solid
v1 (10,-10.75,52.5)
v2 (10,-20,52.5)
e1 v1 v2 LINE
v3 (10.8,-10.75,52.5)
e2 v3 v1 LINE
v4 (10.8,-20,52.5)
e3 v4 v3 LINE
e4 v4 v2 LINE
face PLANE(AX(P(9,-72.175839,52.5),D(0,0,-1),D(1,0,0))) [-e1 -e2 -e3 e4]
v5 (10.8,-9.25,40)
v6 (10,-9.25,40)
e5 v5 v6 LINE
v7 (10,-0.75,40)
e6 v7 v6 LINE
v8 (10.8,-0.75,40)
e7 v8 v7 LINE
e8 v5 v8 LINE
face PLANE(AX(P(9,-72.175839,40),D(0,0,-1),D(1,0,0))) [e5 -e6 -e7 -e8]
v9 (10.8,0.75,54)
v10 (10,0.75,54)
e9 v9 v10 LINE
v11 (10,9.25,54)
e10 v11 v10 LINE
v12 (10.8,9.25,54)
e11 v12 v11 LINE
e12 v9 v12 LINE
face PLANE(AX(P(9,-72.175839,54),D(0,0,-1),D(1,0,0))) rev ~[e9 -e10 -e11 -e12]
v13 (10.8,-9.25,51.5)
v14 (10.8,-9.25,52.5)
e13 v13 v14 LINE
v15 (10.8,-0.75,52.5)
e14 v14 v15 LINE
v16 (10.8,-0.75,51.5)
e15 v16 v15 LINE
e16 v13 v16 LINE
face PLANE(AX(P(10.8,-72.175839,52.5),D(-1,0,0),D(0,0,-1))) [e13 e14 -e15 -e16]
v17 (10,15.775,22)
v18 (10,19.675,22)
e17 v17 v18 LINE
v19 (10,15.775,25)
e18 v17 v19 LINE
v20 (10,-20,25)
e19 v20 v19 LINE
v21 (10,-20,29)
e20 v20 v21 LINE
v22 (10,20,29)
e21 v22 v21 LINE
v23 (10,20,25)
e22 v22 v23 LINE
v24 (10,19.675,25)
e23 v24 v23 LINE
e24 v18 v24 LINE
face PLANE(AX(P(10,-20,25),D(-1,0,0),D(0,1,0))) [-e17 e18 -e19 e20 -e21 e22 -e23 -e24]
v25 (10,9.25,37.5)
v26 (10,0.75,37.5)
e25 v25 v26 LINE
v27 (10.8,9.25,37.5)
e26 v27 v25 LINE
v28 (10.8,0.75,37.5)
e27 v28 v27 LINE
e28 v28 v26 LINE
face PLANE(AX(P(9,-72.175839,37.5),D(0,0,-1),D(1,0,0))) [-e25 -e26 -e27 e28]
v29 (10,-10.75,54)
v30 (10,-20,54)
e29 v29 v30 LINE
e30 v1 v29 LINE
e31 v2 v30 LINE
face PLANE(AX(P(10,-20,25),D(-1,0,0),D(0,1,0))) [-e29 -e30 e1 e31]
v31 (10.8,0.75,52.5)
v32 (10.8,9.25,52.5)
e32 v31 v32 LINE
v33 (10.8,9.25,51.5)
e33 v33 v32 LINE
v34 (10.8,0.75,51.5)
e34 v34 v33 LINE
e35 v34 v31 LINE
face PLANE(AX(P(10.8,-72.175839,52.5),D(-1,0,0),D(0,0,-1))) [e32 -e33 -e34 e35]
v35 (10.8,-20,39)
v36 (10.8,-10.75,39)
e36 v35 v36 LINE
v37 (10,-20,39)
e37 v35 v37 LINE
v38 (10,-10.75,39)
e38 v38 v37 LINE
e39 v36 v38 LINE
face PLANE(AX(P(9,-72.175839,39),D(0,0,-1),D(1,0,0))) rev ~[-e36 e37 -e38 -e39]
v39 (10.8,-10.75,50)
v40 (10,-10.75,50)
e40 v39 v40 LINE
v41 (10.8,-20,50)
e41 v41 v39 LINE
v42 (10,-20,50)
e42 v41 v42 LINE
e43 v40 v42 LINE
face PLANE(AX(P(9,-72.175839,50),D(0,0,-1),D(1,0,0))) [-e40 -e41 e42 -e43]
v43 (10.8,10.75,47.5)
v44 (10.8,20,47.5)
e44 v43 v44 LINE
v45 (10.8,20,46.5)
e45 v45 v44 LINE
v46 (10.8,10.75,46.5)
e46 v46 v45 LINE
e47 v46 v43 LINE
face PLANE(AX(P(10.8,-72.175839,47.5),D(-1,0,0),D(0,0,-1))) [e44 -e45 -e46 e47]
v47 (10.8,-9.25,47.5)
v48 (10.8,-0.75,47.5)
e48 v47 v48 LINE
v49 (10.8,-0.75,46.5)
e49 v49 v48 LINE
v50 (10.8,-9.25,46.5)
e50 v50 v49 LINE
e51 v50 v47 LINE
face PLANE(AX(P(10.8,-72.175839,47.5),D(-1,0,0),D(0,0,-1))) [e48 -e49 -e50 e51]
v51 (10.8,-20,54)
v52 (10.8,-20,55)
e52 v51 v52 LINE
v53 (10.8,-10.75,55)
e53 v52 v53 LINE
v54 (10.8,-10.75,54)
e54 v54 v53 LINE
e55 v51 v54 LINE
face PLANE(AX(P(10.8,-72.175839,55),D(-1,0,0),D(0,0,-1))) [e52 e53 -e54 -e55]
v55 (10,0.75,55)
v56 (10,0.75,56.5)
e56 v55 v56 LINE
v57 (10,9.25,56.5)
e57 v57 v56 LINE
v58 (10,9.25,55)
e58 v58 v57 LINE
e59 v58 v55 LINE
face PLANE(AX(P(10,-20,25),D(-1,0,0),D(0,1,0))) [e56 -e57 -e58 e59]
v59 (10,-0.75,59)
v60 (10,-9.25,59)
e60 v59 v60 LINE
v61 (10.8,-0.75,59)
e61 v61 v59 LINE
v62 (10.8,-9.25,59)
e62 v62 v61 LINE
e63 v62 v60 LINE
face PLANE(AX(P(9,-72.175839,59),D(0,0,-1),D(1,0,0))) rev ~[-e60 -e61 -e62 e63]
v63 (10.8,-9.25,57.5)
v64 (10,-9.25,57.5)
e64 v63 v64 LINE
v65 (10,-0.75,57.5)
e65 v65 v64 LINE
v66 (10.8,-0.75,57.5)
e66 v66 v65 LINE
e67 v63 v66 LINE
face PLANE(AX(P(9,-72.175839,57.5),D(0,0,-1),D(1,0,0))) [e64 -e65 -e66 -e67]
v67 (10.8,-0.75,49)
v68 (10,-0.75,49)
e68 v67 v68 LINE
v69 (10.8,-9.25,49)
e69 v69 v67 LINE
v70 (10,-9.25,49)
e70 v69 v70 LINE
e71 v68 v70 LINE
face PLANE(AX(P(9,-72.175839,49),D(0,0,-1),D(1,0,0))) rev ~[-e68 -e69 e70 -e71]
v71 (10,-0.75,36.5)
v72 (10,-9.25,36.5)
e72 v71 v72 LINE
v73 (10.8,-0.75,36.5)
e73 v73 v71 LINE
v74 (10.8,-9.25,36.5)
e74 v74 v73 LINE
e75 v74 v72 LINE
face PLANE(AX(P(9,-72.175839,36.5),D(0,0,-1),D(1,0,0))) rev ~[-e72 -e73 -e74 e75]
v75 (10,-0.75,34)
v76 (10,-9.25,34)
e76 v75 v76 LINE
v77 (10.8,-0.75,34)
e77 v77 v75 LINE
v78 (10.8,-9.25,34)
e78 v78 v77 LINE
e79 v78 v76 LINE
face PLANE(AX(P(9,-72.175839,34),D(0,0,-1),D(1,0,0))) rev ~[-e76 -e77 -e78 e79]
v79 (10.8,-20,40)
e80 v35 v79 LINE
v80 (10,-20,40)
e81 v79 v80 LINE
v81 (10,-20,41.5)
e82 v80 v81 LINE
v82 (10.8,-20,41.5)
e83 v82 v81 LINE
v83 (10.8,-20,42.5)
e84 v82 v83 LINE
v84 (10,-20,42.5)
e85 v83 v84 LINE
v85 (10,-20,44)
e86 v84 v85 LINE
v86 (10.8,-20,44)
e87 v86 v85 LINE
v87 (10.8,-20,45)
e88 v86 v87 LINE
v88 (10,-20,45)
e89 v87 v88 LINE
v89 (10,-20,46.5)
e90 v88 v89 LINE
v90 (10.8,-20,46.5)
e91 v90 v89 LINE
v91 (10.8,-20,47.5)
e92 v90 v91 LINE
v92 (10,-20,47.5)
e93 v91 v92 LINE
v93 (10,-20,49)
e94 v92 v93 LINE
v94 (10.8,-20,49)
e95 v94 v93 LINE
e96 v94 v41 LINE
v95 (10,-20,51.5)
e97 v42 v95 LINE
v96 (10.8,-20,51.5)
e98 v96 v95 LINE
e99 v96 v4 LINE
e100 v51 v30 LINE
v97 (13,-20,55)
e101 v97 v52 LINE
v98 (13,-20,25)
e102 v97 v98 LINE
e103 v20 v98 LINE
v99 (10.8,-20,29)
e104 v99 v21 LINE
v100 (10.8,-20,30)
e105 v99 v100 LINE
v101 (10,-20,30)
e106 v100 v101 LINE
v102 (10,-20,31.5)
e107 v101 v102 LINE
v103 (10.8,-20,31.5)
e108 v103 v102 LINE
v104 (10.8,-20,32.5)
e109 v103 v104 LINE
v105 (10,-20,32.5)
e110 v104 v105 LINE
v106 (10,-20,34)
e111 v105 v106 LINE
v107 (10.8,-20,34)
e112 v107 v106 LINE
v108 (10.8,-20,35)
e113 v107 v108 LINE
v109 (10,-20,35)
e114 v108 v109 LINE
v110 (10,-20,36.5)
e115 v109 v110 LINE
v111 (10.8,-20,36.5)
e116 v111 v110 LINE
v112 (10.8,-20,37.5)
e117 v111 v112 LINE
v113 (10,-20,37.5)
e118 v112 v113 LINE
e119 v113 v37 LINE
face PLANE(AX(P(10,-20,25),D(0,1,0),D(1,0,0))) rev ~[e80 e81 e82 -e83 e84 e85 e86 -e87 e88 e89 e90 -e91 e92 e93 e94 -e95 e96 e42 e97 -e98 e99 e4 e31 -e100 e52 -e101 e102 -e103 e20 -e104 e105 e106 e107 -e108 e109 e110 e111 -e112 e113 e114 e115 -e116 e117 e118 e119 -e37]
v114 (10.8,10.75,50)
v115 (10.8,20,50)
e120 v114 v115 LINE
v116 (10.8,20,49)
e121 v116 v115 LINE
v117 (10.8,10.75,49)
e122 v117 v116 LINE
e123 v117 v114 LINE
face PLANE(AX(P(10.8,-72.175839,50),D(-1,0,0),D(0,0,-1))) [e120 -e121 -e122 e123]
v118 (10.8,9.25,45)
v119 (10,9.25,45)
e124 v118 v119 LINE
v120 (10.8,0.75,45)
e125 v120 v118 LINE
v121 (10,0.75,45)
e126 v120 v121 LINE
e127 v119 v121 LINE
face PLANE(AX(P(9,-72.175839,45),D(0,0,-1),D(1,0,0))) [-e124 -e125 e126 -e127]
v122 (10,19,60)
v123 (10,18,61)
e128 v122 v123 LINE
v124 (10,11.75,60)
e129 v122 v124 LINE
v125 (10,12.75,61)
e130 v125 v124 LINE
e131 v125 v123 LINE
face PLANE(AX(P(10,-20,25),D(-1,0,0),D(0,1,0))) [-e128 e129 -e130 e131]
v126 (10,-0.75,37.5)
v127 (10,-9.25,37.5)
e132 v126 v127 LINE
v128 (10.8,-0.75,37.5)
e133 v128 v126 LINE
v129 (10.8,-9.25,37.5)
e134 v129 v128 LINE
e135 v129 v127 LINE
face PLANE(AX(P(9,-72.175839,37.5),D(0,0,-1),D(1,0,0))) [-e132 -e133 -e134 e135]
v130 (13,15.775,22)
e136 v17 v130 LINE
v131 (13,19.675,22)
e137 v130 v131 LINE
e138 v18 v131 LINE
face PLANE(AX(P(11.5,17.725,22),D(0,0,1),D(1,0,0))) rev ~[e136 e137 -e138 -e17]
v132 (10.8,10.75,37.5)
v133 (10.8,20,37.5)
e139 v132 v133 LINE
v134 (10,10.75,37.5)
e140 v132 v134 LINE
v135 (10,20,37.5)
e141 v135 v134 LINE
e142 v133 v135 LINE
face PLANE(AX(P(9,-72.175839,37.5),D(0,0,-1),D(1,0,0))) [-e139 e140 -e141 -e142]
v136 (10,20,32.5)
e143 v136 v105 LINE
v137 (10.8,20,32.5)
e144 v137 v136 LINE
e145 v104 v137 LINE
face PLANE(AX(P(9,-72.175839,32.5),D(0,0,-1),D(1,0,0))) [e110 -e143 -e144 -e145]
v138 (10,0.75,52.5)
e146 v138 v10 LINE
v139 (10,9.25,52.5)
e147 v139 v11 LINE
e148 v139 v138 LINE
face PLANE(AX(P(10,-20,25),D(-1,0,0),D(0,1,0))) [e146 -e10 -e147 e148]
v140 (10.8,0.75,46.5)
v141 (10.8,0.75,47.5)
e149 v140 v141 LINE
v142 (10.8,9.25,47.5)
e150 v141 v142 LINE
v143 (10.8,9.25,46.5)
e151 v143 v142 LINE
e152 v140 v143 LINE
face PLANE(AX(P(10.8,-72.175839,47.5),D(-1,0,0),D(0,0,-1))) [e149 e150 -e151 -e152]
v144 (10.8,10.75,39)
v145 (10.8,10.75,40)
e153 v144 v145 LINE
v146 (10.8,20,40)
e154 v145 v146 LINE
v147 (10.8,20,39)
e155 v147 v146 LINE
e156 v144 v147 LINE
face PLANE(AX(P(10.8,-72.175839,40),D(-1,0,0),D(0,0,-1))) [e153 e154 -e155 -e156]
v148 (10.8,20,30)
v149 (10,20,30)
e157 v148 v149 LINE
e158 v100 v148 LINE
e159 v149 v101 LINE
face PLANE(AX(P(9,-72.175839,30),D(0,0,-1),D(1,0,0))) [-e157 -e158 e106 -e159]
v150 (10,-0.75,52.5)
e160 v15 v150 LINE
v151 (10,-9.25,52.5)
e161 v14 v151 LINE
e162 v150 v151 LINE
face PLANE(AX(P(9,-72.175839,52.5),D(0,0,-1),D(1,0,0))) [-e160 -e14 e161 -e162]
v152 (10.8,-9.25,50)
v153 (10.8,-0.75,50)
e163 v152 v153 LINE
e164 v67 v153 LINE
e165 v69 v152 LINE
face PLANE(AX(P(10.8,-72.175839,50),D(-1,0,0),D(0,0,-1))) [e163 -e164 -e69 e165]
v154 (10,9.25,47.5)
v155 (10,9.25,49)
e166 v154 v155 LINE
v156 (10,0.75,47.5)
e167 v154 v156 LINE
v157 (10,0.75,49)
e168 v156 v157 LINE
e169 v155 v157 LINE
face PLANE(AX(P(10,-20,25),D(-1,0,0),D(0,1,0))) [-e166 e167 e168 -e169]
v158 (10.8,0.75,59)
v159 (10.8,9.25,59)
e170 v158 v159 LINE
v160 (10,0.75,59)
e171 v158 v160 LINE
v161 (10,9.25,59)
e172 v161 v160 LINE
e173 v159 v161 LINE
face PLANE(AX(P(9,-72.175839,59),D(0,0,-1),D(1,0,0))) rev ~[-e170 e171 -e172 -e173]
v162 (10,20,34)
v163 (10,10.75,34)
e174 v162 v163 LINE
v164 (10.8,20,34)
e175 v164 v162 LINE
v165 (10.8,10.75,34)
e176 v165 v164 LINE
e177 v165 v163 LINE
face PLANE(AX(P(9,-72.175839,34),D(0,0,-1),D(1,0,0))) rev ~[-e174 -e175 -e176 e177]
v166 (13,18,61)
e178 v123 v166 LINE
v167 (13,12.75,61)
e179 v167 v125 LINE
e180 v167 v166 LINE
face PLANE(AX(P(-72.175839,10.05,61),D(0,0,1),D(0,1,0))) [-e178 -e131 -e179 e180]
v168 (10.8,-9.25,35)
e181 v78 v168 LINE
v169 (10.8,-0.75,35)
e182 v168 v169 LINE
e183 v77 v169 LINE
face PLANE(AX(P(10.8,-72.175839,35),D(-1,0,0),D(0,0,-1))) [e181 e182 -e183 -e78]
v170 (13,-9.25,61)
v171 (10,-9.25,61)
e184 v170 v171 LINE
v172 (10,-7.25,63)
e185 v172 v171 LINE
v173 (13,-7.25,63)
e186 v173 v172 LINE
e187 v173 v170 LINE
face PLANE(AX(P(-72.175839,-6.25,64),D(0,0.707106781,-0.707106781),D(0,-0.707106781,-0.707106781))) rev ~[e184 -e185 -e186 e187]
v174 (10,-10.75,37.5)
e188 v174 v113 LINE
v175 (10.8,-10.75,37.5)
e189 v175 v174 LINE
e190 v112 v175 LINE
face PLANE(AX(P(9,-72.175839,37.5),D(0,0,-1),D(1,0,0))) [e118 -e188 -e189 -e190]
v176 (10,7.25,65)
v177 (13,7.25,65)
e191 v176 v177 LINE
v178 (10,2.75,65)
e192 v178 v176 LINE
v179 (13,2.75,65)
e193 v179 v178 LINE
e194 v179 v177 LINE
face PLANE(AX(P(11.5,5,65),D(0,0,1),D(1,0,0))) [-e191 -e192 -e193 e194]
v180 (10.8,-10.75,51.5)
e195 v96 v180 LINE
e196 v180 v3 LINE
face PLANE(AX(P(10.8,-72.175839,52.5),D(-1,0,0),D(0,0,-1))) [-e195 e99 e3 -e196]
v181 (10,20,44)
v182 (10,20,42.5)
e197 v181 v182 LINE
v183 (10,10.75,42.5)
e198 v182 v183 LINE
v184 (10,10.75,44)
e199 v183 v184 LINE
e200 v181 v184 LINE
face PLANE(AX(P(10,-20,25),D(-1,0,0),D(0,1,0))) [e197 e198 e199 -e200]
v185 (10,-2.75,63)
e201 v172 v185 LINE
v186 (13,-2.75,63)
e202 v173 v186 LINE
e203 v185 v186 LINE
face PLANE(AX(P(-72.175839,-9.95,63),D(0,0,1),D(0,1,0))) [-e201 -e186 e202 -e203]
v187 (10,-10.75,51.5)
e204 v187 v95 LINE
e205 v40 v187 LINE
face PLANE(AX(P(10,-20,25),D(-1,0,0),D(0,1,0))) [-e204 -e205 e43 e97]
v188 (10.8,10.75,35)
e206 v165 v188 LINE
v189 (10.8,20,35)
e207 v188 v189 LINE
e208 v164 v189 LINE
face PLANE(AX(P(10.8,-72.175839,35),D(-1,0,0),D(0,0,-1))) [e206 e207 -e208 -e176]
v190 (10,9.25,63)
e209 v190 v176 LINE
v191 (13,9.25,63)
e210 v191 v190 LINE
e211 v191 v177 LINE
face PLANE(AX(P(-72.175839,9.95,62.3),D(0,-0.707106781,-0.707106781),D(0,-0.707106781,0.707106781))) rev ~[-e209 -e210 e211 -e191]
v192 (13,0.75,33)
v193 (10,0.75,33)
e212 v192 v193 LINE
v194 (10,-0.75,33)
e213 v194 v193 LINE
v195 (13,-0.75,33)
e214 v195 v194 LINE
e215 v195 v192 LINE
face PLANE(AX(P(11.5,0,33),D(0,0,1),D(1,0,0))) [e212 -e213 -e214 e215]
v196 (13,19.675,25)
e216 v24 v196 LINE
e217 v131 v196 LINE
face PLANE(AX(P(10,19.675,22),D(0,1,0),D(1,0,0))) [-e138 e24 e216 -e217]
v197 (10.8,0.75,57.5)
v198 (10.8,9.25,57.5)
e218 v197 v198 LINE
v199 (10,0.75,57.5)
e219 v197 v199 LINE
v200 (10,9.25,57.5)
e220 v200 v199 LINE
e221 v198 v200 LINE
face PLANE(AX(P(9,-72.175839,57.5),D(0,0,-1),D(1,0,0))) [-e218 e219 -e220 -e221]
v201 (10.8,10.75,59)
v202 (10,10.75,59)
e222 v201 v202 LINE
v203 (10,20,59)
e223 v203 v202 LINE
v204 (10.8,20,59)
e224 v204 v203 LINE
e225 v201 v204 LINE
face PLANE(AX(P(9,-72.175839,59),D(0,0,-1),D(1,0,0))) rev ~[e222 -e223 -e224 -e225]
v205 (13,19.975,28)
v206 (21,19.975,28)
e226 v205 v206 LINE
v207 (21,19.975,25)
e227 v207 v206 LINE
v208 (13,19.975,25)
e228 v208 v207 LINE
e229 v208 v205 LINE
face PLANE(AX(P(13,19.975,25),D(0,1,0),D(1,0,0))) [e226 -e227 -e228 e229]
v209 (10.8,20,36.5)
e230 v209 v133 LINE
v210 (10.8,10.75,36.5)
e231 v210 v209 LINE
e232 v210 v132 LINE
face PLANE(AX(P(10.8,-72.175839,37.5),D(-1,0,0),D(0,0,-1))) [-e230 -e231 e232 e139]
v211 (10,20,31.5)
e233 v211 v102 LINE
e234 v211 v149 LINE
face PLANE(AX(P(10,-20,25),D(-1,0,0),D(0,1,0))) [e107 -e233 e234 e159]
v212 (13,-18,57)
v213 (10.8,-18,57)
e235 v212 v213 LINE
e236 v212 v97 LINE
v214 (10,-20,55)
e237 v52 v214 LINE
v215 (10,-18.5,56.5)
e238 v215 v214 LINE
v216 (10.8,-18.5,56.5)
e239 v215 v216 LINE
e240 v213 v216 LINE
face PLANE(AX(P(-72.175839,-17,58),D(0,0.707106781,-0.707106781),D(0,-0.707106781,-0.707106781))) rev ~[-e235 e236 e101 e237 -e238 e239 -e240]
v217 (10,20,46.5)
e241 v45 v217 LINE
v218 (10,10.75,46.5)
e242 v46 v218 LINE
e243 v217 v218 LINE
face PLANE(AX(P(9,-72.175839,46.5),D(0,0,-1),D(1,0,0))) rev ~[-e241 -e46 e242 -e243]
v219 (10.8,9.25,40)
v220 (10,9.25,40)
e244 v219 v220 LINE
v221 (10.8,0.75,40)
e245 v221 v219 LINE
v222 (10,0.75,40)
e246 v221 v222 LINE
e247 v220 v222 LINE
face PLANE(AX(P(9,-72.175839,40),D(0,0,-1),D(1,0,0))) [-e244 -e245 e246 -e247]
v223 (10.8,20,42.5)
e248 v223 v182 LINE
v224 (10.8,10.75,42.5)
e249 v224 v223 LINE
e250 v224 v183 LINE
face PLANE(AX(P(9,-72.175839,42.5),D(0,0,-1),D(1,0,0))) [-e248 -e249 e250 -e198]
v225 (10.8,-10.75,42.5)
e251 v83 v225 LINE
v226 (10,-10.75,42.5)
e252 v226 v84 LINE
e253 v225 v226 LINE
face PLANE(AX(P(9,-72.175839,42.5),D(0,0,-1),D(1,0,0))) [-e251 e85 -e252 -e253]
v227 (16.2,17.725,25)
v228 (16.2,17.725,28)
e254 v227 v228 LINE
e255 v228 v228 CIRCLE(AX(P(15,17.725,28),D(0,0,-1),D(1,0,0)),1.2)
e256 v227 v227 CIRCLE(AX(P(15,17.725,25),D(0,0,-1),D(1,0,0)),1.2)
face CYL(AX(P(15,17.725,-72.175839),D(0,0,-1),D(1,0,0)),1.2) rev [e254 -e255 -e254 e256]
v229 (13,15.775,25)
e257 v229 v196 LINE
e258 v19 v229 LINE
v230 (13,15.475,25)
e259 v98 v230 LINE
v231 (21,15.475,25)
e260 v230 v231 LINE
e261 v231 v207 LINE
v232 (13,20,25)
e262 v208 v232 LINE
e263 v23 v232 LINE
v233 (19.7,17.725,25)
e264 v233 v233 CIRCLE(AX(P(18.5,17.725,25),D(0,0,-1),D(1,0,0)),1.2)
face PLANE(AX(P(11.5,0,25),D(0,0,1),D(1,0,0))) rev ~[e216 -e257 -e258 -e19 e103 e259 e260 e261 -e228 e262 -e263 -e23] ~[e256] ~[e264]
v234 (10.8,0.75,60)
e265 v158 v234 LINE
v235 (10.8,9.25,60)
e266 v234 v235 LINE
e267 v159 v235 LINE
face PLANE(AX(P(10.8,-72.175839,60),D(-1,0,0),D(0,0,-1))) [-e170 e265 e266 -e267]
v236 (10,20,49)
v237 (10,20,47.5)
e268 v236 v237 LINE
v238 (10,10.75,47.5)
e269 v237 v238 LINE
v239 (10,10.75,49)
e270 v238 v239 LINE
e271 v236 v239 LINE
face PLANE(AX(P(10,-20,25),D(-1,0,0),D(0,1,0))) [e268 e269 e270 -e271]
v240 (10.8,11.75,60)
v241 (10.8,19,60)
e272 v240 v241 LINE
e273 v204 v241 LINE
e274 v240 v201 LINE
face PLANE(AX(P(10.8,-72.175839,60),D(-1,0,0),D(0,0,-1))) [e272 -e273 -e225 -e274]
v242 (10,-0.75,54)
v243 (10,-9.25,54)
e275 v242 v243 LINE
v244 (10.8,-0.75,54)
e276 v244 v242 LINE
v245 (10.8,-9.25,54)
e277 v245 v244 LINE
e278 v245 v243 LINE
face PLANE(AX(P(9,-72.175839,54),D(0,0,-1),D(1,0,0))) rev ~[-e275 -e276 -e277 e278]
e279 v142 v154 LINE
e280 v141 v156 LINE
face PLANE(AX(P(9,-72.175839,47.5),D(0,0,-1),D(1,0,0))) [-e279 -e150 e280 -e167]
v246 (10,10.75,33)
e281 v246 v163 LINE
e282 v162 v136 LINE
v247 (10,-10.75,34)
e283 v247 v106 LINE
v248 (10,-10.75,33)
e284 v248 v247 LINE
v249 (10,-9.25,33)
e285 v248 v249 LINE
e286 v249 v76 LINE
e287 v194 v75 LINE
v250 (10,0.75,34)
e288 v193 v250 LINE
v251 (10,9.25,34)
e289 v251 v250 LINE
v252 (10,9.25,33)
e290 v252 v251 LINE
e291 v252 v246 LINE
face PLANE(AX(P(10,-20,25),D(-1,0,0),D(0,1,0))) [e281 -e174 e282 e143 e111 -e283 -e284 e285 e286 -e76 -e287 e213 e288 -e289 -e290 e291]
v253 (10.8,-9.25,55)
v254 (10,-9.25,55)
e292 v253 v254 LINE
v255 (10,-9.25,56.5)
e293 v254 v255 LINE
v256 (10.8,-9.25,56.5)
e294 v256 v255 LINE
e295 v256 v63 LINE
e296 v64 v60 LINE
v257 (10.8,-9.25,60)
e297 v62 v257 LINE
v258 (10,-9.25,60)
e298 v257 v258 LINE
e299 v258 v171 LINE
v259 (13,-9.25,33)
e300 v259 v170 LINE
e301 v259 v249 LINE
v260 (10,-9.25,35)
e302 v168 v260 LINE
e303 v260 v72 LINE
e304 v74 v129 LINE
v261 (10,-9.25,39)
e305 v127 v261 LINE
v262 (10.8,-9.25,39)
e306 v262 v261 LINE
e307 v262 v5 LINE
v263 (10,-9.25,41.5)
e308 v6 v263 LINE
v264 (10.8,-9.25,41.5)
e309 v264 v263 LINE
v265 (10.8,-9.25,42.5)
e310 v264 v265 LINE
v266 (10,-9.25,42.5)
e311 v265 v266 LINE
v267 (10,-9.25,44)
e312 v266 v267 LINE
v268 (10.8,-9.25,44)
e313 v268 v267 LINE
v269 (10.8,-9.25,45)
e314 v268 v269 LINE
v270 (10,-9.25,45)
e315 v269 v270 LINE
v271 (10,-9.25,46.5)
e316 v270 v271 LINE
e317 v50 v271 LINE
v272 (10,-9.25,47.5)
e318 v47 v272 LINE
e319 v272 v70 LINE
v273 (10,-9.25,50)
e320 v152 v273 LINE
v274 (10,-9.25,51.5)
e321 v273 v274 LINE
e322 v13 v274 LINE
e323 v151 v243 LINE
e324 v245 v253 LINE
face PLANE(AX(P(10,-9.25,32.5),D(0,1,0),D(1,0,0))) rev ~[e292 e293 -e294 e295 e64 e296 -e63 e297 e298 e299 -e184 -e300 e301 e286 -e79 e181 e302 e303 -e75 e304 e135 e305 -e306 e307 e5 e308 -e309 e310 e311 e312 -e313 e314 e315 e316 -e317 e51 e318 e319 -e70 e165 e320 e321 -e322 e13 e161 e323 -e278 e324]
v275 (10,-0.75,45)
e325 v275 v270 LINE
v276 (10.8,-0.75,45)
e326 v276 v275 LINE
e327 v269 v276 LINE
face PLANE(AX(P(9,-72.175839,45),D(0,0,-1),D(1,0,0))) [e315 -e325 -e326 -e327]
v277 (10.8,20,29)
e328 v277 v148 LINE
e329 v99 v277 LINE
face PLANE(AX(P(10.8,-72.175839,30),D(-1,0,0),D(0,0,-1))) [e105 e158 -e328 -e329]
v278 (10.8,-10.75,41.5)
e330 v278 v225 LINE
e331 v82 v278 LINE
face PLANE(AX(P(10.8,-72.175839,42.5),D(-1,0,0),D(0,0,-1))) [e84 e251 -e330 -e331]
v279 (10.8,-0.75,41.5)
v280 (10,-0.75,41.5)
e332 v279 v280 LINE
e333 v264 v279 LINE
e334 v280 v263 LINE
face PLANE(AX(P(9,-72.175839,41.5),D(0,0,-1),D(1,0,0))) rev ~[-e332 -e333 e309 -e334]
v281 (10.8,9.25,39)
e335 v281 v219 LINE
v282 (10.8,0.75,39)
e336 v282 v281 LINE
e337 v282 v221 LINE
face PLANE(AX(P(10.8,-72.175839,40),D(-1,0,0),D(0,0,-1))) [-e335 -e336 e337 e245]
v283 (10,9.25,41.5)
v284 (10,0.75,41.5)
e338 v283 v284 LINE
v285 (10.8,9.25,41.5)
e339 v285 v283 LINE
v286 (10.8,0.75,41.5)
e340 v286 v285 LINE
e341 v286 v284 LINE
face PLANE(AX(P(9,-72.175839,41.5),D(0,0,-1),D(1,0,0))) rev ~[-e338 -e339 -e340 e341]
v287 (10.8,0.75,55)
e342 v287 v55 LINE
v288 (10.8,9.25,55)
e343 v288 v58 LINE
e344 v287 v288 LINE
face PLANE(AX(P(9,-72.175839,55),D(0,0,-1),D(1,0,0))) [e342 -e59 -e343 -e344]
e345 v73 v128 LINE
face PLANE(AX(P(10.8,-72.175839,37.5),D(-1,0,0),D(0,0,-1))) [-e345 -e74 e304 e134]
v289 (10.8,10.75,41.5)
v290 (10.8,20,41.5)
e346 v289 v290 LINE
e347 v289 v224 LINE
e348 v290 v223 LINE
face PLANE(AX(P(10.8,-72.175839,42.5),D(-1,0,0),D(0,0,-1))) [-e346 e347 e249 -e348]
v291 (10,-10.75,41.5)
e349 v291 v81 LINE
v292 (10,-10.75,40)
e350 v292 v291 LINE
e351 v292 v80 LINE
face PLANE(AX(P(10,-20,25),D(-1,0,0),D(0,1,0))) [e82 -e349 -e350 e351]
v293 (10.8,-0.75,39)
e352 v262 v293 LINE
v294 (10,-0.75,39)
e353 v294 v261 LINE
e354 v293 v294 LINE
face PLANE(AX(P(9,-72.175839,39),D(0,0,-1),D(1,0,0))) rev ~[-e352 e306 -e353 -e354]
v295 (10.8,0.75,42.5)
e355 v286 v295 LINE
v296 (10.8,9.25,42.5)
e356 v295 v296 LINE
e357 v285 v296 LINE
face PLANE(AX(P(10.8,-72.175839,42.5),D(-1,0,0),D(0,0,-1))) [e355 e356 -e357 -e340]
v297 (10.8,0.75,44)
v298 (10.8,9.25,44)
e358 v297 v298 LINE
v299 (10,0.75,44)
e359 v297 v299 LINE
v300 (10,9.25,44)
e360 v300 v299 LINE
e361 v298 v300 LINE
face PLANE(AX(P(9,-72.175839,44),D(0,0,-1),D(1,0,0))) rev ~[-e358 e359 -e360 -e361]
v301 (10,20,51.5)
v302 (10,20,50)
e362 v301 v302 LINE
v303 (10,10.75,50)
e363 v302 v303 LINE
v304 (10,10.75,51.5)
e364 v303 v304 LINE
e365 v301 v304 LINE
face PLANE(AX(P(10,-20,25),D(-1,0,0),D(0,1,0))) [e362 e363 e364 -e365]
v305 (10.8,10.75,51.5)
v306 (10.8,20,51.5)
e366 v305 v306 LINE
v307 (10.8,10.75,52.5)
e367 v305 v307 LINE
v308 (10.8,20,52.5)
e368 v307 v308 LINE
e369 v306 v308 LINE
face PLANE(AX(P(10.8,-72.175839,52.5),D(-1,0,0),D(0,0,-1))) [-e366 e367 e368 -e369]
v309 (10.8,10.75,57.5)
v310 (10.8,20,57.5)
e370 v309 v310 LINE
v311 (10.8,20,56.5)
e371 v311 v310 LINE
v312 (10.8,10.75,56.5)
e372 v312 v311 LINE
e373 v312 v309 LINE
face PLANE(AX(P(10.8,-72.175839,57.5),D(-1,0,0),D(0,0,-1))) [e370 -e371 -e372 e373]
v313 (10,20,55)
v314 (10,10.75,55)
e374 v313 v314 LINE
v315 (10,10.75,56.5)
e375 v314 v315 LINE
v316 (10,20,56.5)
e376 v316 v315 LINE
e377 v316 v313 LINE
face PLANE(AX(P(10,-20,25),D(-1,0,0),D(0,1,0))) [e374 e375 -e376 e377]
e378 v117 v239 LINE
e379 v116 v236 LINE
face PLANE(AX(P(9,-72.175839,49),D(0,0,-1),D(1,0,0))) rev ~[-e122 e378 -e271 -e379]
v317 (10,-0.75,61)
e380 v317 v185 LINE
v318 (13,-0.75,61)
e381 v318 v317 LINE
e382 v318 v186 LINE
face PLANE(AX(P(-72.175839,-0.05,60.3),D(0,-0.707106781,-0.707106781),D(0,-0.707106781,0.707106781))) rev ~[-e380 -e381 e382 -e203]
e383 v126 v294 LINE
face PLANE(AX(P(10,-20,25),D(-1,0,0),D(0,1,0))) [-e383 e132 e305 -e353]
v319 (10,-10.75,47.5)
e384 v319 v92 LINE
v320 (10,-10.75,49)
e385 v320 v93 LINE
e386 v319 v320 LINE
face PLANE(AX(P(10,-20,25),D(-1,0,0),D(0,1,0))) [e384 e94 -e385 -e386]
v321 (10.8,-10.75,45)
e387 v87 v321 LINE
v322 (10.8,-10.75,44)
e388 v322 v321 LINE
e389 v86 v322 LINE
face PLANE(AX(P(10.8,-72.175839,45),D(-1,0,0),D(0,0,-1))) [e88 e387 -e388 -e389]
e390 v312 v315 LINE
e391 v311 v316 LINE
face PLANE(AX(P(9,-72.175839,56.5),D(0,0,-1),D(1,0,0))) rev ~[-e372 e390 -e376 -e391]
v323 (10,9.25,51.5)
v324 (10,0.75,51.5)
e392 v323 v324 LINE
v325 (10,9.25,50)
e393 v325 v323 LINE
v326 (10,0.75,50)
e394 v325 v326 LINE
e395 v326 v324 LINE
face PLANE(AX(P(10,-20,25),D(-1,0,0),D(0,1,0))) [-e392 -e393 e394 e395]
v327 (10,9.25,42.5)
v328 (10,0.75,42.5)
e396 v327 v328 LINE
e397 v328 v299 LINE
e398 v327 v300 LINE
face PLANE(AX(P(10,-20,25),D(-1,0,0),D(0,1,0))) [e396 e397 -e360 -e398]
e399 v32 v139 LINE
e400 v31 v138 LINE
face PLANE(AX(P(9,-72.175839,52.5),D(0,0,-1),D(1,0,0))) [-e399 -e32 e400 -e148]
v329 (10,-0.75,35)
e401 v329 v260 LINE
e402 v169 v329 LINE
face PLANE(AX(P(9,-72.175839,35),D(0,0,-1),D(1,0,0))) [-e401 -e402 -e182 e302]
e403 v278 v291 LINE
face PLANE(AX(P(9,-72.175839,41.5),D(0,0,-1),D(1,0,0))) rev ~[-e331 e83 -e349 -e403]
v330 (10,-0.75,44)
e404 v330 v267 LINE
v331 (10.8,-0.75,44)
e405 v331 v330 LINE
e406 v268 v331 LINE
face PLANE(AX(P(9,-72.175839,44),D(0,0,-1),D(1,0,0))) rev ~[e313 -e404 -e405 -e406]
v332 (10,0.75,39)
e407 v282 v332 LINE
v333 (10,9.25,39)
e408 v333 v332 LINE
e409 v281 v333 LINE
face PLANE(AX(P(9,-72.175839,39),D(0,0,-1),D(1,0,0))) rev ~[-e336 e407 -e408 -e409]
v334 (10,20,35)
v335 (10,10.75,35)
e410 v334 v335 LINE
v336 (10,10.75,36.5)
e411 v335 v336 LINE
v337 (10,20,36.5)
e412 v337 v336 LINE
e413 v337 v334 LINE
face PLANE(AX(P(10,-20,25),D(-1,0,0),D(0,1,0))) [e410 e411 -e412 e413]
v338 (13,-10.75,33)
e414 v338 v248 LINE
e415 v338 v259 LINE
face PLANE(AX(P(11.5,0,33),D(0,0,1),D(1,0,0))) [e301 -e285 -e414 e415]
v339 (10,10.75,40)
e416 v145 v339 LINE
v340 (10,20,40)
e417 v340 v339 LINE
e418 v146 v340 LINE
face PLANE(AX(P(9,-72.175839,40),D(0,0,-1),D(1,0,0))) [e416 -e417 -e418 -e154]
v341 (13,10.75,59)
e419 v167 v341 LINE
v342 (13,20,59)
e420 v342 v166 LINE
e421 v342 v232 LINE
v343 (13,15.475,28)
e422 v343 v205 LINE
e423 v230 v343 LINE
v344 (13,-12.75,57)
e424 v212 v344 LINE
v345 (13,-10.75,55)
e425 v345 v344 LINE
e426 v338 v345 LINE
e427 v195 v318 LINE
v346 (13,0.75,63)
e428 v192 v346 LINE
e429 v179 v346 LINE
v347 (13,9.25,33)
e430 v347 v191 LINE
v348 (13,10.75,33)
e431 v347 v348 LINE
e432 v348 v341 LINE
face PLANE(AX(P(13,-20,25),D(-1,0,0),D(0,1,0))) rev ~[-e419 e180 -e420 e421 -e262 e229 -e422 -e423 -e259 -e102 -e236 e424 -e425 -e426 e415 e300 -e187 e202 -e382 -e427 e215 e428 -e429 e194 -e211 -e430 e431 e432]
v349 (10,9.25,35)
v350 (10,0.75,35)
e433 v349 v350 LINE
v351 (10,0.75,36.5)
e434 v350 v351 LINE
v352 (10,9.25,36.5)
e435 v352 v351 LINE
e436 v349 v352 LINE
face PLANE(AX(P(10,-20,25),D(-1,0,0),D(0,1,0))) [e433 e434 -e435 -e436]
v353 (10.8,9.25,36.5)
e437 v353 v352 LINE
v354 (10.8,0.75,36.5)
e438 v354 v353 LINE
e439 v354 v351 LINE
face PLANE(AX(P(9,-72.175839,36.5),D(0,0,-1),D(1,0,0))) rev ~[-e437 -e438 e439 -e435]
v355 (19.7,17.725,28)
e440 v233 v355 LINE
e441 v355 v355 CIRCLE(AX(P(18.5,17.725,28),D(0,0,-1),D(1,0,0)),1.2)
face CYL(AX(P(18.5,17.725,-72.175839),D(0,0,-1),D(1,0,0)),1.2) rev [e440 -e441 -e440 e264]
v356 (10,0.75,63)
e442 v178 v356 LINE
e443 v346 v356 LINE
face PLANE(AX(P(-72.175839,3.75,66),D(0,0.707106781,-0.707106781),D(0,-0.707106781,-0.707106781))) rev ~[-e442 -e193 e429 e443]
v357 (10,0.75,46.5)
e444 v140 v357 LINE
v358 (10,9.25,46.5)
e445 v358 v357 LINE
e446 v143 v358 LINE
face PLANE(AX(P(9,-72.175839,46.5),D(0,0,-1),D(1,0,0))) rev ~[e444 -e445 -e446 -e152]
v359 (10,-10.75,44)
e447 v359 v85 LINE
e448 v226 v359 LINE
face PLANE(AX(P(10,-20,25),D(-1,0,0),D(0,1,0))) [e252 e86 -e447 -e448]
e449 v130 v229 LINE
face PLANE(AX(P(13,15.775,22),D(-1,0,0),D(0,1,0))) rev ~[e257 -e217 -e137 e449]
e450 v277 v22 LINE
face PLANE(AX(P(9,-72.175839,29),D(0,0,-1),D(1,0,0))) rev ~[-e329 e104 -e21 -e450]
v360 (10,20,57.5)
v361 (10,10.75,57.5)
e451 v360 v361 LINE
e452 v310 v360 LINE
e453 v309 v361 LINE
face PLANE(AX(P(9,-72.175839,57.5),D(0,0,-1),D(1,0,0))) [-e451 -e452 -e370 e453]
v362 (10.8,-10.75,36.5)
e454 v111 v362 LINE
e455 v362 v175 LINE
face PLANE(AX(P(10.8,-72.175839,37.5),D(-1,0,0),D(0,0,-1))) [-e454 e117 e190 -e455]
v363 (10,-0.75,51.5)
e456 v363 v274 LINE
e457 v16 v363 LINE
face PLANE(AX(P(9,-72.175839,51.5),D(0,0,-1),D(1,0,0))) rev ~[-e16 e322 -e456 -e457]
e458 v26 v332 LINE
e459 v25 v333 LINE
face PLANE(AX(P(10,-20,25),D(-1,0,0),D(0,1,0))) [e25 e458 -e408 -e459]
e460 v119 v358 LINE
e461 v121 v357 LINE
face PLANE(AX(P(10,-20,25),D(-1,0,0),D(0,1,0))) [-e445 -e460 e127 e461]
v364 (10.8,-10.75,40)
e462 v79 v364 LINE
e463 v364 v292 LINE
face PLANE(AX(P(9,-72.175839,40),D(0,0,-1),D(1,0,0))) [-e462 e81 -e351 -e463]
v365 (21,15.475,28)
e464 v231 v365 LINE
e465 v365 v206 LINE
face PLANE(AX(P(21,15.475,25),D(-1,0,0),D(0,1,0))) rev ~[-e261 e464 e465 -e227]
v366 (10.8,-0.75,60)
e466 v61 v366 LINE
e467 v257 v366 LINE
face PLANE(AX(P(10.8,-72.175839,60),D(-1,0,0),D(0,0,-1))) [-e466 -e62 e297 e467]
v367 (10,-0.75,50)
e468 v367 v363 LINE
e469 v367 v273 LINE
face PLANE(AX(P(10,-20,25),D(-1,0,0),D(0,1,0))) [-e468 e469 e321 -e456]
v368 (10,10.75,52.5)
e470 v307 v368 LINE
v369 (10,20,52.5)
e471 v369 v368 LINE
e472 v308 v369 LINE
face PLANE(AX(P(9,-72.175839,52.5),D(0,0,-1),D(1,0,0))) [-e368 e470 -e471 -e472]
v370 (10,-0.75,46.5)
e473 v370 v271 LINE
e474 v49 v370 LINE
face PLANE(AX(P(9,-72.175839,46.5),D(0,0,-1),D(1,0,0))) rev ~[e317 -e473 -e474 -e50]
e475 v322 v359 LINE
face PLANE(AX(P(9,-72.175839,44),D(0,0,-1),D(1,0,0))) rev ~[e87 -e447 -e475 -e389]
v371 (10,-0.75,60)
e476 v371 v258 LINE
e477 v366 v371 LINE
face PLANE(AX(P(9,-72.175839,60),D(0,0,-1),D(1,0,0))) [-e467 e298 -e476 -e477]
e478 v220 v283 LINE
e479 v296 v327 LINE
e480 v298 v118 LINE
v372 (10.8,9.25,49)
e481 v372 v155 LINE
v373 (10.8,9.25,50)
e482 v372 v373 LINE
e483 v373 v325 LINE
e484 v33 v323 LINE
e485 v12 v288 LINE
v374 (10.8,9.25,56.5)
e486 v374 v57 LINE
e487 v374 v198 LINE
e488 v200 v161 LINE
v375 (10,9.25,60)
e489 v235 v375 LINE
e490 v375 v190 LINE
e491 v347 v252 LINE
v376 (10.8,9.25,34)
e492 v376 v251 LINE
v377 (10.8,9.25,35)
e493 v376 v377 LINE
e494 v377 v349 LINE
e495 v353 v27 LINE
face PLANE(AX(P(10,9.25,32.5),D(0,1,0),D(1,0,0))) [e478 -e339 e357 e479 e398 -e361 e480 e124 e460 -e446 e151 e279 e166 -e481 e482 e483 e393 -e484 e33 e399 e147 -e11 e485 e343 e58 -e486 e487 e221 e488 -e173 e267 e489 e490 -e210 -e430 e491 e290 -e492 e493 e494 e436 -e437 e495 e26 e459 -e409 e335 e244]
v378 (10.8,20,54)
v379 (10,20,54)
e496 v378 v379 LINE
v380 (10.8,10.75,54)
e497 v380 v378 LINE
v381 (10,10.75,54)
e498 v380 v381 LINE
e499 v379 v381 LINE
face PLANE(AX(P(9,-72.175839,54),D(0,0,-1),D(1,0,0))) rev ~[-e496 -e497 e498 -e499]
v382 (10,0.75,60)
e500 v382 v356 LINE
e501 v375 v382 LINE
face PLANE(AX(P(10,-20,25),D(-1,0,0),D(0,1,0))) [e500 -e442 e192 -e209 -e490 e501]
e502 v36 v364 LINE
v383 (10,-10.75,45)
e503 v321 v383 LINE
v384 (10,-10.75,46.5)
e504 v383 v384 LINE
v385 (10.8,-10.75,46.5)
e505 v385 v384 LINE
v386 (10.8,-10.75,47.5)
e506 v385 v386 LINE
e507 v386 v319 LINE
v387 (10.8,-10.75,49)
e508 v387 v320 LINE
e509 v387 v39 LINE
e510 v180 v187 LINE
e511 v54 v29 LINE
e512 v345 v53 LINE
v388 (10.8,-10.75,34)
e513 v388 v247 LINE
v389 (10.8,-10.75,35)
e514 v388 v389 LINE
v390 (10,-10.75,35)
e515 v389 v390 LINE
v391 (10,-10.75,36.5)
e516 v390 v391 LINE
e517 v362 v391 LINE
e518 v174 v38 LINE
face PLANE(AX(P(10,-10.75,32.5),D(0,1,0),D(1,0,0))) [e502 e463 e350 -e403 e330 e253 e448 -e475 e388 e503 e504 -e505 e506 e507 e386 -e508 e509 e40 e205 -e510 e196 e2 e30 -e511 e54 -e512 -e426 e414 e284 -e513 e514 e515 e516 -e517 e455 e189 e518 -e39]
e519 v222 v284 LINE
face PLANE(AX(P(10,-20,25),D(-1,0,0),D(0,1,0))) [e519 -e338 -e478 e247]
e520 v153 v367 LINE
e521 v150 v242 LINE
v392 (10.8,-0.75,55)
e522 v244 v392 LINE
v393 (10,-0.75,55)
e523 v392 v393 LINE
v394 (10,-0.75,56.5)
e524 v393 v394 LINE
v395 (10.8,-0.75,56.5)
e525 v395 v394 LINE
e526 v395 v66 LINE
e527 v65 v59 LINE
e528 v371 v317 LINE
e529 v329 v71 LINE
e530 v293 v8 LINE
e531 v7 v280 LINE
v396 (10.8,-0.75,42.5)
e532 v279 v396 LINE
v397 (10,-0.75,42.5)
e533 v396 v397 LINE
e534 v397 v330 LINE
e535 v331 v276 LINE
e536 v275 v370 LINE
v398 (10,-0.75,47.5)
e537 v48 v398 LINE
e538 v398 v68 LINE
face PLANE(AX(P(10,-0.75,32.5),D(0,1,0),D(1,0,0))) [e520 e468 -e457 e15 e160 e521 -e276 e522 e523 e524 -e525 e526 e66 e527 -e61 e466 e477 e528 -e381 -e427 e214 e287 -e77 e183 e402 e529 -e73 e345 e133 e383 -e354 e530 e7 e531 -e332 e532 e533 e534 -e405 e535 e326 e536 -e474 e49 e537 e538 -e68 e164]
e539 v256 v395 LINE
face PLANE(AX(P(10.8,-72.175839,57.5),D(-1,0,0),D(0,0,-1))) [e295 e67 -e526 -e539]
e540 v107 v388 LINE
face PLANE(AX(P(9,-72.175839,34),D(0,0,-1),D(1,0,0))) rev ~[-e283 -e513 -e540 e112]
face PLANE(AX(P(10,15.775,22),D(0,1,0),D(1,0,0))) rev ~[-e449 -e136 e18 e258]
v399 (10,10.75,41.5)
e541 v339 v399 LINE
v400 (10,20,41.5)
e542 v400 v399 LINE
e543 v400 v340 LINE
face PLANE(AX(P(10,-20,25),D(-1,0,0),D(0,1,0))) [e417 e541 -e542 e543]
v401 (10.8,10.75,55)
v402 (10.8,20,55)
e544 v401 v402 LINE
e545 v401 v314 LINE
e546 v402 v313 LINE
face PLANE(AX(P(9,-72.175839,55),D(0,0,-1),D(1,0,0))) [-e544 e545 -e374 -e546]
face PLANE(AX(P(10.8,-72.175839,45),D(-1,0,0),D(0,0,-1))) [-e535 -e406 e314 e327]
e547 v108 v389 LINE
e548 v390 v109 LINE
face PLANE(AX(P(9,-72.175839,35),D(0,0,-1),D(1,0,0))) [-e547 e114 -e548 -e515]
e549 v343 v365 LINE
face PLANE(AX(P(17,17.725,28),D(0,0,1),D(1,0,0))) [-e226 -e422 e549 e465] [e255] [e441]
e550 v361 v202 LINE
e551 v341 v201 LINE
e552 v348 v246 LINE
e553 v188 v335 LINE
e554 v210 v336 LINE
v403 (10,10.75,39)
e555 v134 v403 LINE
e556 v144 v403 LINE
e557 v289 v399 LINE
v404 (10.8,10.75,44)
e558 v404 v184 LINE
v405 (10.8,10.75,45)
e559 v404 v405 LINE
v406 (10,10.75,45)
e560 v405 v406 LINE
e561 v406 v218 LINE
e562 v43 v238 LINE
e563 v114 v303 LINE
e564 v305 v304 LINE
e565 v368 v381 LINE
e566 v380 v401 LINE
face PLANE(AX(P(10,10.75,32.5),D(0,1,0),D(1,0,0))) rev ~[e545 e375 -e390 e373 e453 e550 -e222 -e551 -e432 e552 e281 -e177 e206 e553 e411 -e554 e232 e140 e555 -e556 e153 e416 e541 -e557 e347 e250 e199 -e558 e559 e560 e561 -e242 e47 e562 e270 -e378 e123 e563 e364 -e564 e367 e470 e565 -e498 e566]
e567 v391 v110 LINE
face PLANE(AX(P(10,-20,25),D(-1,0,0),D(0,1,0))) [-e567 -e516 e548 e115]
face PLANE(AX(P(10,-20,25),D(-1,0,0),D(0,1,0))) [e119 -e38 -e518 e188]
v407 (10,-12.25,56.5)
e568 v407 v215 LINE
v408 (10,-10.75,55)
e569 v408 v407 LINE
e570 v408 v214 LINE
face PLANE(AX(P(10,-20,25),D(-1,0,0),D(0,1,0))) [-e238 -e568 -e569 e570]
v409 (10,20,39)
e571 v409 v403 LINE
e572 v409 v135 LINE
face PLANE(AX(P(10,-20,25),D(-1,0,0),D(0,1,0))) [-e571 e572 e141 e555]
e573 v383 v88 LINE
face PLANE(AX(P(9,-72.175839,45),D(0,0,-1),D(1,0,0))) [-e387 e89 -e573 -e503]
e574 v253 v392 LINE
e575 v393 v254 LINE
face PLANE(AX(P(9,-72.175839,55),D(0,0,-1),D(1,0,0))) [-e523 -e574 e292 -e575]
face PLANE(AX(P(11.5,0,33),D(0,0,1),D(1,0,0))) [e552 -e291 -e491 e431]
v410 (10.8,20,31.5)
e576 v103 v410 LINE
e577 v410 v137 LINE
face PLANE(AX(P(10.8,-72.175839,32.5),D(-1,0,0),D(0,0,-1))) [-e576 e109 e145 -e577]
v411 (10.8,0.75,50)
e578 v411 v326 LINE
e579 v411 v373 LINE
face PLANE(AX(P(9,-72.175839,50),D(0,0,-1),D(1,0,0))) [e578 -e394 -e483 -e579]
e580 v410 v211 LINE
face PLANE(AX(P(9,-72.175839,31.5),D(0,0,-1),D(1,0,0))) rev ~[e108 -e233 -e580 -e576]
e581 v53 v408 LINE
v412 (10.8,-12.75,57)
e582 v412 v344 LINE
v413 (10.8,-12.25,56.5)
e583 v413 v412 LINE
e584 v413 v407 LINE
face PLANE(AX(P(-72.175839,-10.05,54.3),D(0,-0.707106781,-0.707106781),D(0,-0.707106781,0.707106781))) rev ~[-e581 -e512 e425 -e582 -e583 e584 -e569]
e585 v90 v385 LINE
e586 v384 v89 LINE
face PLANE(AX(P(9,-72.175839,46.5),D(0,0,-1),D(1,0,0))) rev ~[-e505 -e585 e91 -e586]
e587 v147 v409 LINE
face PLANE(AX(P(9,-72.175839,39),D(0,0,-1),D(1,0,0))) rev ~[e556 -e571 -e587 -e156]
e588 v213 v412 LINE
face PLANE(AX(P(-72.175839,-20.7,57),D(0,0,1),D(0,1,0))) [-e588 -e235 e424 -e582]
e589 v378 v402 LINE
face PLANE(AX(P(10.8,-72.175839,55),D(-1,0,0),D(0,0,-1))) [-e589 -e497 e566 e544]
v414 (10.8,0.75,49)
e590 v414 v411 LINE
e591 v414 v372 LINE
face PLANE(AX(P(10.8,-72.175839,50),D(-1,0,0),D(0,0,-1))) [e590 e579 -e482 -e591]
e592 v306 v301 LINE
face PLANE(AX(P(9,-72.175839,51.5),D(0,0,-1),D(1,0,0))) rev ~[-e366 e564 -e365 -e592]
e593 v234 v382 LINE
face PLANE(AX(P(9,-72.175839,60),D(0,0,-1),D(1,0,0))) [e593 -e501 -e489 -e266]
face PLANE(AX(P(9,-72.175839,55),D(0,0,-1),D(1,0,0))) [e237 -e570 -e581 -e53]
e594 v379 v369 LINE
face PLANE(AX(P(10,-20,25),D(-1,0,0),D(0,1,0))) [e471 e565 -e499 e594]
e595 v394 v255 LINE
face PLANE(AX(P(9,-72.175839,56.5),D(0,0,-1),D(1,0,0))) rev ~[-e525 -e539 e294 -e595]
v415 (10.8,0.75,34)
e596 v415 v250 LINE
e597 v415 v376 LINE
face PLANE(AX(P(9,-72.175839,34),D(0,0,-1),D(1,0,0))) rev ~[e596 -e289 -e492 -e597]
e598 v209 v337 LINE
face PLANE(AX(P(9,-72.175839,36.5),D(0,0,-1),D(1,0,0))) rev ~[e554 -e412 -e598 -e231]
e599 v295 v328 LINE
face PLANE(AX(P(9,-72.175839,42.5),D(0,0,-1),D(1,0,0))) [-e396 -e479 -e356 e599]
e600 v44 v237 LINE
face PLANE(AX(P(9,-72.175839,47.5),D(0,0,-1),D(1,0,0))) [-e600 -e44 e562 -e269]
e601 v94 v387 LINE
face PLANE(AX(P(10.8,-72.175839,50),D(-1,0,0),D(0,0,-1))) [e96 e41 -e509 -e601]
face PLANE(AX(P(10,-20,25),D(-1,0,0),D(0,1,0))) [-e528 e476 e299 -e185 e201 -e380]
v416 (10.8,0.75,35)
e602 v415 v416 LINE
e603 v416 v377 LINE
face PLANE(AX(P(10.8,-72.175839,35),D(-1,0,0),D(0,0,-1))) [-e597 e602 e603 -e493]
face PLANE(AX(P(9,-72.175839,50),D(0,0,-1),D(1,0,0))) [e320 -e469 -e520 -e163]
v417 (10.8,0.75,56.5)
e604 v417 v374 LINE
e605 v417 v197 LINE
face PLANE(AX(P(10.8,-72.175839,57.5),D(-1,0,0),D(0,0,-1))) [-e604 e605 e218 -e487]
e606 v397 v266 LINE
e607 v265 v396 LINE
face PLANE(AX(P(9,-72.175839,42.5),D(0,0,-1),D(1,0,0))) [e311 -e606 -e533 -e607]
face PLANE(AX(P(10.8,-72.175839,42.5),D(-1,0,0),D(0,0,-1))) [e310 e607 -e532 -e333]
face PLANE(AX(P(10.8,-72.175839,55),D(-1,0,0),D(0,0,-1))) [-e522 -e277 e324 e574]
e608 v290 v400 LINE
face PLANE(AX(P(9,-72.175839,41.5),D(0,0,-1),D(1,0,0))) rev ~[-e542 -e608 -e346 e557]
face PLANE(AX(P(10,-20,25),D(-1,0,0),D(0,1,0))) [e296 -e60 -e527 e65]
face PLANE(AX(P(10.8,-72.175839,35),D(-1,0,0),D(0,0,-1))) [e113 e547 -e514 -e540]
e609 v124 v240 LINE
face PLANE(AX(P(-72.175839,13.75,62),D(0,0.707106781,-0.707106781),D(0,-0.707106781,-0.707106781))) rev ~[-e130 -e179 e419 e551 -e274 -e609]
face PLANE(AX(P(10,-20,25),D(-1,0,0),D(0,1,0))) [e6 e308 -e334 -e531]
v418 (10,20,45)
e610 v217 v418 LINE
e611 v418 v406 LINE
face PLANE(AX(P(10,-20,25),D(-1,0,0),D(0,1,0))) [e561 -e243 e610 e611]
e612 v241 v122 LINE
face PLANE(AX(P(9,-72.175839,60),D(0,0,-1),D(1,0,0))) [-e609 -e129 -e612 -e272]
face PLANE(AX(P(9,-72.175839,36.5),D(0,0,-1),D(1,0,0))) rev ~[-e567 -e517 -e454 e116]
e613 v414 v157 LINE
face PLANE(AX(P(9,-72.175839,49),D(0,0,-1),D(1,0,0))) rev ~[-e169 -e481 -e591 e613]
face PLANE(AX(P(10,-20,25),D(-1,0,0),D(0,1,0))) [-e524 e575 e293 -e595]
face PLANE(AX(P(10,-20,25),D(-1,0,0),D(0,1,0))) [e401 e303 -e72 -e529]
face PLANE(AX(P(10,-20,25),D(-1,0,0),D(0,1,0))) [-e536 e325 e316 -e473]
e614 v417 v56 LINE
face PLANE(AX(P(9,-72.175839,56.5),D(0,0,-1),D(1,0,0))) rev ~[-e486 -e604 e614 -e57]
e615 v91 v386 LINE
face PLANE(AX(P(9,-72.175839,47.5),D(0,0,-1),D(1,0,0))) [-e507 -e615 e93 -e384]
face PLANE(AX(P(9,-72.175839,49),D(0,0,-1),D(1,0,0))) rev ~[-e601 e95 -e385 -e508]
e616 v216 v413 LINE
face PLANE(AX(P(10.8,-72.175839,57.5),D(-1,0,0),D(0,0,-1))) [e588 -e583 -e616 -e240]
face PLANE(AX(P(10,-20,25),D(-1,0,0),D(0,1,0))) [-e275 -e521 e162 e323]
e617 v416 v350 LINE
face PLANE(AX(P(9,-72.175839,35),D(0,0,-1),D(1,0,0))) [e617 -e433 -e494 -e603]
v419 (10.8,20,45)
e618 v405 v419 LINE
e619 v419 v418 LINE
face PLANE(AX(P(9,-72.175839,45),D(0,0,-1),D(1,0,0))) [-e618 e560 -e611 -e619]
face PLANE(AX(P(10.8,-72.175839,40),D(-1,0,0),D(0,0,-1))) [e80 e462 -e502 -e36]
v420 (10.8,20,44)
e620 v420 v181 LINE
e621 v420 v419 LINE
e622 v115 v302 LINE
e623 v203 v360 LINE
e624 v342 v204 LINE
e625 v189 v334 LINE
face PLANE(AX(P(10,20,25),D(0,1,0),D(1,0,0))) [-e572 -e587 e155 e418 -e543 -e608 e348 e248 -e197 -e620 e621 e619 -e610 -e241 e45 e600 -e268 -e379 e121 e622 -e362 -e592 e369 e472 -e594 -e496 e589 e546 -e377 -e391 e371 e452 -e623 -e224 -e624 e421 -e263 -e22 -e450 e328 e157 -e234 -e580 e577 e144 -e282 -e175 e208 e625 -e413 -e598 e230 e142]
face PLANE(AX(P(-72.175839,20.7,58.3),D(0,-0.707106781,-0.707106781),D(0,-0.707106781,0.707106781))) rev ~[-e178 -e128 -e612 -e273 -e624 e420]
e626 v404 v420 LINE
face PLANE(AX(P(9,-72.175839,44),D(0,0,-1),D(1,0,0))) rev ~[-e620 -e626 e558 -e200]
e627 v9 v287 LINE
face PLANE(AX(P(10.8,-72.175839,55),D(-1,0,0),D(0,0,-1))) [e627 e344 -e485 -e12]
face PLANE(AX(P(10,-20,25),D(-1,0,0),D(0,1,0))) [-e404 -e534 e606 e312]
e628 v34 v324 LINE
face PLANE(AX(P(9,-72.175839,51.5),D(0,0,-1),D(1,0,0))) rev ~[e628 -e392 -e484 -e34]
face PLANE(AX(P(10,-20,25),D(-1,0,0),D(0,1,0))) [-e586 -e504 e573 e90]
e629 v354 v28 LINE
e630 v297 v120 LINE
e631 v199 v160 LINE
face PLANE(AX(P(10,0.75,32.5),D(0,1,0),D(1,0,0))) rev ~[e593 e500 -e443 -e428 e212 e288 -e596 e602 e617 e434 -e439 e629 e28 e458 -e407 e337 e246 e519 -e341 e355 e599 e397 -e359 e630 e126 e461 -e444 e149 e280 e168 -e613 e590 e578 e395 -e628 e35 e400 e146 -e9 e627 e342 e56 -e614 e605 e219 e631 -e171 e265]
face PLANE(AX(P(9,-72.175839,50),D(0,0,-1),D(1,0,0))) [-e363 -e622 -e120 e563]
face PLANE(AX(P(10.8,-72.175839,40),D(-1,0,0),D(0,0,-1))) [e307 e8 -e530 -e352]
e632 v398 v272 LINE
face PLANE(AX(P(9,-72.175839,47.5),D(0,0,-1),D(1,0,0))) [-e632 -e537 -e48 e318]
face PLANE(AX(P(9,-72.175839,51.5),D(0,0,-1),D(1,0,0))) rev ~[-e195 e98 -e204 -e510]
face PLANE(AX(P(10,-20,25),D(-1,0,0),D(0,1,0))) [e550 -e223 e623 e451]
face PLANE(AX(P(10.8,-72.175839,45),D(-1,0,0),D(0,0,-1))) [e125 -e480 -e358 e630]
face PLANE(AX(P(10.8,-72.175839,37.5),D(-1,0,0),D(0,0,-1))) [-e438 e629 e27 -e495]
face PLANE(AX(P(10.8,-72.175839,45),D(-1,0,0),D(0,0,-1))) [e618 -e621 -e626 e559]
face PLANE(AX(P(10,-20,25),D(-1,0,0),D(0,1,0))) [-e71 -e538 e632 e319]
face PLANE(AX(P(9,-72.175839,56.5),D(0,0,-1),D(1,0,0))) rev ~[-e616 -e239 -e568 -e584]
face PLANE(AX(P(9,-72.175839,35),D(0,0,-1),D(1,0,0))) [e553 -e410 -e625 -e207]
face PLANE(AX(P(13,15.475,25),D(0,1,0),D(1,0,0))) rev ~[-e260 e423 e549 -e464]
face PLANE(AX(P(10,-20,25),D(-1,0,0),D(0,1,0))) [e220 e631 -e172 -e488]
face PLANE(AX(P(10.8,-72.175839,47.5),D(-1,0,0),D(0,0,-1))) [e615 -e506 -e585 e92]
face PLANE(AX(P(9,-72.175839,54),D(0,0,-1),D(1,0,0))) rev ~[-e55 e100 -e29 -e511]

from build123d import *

# Parameters (mm, degrees)
BOSS_EXTRUDE1_START     = 25
SKETCH1_W               = 3
SKETCH1_H               = 40
BOSS_EXTRUDE1_DEPTH     = 8
BOSS_EXTRUDE2_START     = 32.5
SKETCH2_W               = 3
SKETCH2_H               = 9.25
SKETCH2_H_2             = 8.5
BOSS_EXTRUDE2_DEPTH     = 32.5
BOSS_EXTRUDE3_START     = 25
SKETCH3_W               = 8
SKETCH3_H               = 4.5
BOSS_EXTRUDE3_DEPTH     = 3
BOSS_EXTRUDE4_START     = 22
SKETCH4_W               = 3
SKETCH4_H               = 3.9
BOSS_EXTRUDE4_DEPTH     = 3
CUT_EXTRUDE1_DEPTH      = 72.175838597
CUT_EXTRUDE1_DEPTH_BACK = 72.175838597
SKETCH5_R               = 1.2
CUT_EXTRUDE2_DEPTH      = 72.175838597
CUT_EXTRUDE2_DEPTH_BACK = 72.175838597
SKETCH6_W               = 1.8
SKETCH6_H               = 1
CUT_EXTRUDE3_DEPTH      = 72.175838597
CUT_EXTRUDE3_DEPTH_BACK = 72.175838597
SKETCH7_W               = 9
SKETCH7_H               = 10.65
SKETCH7_W_2             = 7
SKETCH7_H_2             = 9.9
SKETCH7_W_3             = 13
CUT_EXTRUDE4_DEPTH      = 72.175838597
CUT_EXTRUDE4_DEPTH_BACK = 72.175838597


with BuildPart() as part:
    # Sketch1 → Boss-Extrude1 (new body)
    with BuildSketch(Plane.XY.offset(BOSS_EXTRUDE1_START)):
        with Locations((11.5, 0)):
            Rectangle(SKETCH1_W, SKETCH1_H)
    extrude(amount=BOSS_EXTRUDE1_DEPTH)

    # Sketch2 → Boss-Extrude2 (add)
    with BuildSketch(Plane.XY.offset(BOSS_EXTRUDE2_START)):
        with Locations((11.5, 15.375)):
            Rectangle(SKETCH2_W, SKETCH2_H)
        with Locations((11.5, 5)):
            Rectangle(SKETCH2_W, SKETCH2_H_2)
        with Locations((11.5, -5)):
            Rectangle(SKETCH2_W, SKETCH2_H_2)
        with Locations((11.5, -15.375)):
            Rectangle(SKETCH2_W, SKETCH2_H)
    extrude(amount=BOSS_EXTRUDE2_DEPTH)

    # Sketch3 → Boss-Extrude3 (add)
    with BuildSketch(Plane.XY.offset(BOSS_EXTRUDE3_START)):
        with Locations((17, 17.725)):
            Rectangle(SKETCH3_W, SKETCH3_H)
    extrude(amount=BOSS_EXTRUDE3_DEPTH)

    # Sketch4 → Boss-Extrude4 (add)
    with BuildSketch(Plane.XY.offset(BOSS_EXTRUDE4_START)):
        with Locations((11.5, 17.725)):
            Rectangle(SKETCH4_W, SKETCH4_H)
    extrude(amount=BOSS_EXTRUDE4_DEPTH)

    # Sketch5 → Cut-Extrude1 (cut, two sides: drawn at the far end of the back side and taken through both)
    with BuildSketch(Plane.XY.offset(-CUT_EXTRUDE1_DEPTH_BACK)):
        with Locations((15, 17.725)):
            Circle(SKETCH5_R)
        with Locations((18.5, 17.725)):
            Circle(SKETCH5_R)
    extrude(amount=CUT_EXTRUDE1_DEPTH + CUT_EXTRUDE1_DEPTH_BACK, mode=Mode.SUBTRACT)

    # Sketch6 → Cut-Extrude2 (cut, two sides: drawn at the far end of the back side and taken through both)
    with BuildSketch(Plane(origin=(0, 0, 0), x_dir=(1, 0, 0), z_dir=(0, 1, 0)).offset(-CUT_EXTRUDE2_DEPTH_BACK)):
        with Locations((9.9, -29.5)):
            Rectangle(SKETCH6_W, SKETCH6_H)
        with Locations((9.9, -32)):
            Rectangle(SKETCH6_W, SKETCH6_H)
        with Locations((9.9, -34.5)):
            Rectangle(SKETCH6_W, SKETCH6_H)
        with Locations((9.9, -37)):
            Rectangle(SKETCH6_W, SKETCH6_H)
        with Locations((9.9, -39.5)):
            Rectangle(SKETCH6_W, SKETCH6_H)
        with Locations((9.9, -42)):
            Rectangle(SKETCH6_W, SKETCH6_H)
        with Locations((9.9, -44.5)):
            Rectangle(SKETCH6_W, SKETCH6_H)
        with Locations((9.9, -47)):
            Rectangle(SKETCH6_W, SKETCH6_H)
        with Locations((9.9, -49.5)):
            Rectangle(SKETCH6_W, SKETCH6_H)
        with Locations((9.9, -52)):
            Rectangle(SKETCH6_W, SKETCH6_H)
        with Locations((9.9, -54.5)):
            Rectangle(SKETCH6_W, SKETCH6_H)
        with Locations((9.9, -57)):
            Rectangle(SKETCH6_W, SKETCH6_H)
        with Locations((9.9, -59.5)):
            Rectangle(SKETCH6_W, SKETCH6_H)
    extrude(amount=CUT_EXTRUDE2_DEPTH + CUT_EXTRUDE2_DEPTH_BACK, mode=Mode.SUBTRACT)

    # Sketch7 → Cut-Extrude3 (cut, two sides: drawn at the far end of the back side and taken through both)
    with BuildSketch(Plane(origin=(0, 0, 0), x_dir=(0, 0, -1), z_dir=(1, 0, 0)).offset(-CUT_EXTRUDE3_DEPTH_BACK)):
        with Locations((-65.5, 15.375)):
            Rectangle(SKETCH7_W, SKETCH7_H)
        with Locations((-66.5, -5)):
            Rectangle(SKETCH7_W_2, SKETCH7_H_2)
        with Locations((-63.5, -15.375)):
            Rectangle(SKETCH7_W_3, SKETCH7_H)
    extrude(amount=CUT_EXTRUDE3_DEPTH + CUT_EXTRUDE3_DEPTH_BACK, mode=Mode.SUBTRACT)

    # Sketch8 → Cut-Extrude4 (cut, two sides: drawn at the far end of the back side and taken through both)
    with BuildSketch(Plane(origin=(0, 0, 0), x_dir=(0, 0, -1), z_dir=(1, 0, 0)).offset(-CUT_EXTRUDE4_DEPTH_BACK)):
        Polygon((-58.3, 10.05), (-62, 10.05), (-62, 13.75), align=None)
        Polygon((-58.3, 20.7), (-62, 17), (-62, 20.7), align=None)
        Polygon((-62.3, 0.05), (-66, 0.05), (-66, 3.75), align=None)
        Polygon((-62.3, 9.95), (-66, 6.25), (-66, 9.95), align=None)
        Polygon((-60.3, -9.95), (-64, -9.95), (-64, -6.25), align=None)
        Polygon((-60.3, -0.05), (-64, -3.75), (-64, -0.05), align=None)
        Polygon((-54.3, -20.7), (-58, -20.7), (-58, -17), align=None)
        Polygon((-54.3, -10.05), (-58, -13.75), (-58, -10.05), align=None)
    extrude(amount=CUT_EXTRUDE4_DEPTH + CUT_EXTRUDE4_DEPTH_BACK, mode=Mode.SUBTRACT)


solid = part.part
